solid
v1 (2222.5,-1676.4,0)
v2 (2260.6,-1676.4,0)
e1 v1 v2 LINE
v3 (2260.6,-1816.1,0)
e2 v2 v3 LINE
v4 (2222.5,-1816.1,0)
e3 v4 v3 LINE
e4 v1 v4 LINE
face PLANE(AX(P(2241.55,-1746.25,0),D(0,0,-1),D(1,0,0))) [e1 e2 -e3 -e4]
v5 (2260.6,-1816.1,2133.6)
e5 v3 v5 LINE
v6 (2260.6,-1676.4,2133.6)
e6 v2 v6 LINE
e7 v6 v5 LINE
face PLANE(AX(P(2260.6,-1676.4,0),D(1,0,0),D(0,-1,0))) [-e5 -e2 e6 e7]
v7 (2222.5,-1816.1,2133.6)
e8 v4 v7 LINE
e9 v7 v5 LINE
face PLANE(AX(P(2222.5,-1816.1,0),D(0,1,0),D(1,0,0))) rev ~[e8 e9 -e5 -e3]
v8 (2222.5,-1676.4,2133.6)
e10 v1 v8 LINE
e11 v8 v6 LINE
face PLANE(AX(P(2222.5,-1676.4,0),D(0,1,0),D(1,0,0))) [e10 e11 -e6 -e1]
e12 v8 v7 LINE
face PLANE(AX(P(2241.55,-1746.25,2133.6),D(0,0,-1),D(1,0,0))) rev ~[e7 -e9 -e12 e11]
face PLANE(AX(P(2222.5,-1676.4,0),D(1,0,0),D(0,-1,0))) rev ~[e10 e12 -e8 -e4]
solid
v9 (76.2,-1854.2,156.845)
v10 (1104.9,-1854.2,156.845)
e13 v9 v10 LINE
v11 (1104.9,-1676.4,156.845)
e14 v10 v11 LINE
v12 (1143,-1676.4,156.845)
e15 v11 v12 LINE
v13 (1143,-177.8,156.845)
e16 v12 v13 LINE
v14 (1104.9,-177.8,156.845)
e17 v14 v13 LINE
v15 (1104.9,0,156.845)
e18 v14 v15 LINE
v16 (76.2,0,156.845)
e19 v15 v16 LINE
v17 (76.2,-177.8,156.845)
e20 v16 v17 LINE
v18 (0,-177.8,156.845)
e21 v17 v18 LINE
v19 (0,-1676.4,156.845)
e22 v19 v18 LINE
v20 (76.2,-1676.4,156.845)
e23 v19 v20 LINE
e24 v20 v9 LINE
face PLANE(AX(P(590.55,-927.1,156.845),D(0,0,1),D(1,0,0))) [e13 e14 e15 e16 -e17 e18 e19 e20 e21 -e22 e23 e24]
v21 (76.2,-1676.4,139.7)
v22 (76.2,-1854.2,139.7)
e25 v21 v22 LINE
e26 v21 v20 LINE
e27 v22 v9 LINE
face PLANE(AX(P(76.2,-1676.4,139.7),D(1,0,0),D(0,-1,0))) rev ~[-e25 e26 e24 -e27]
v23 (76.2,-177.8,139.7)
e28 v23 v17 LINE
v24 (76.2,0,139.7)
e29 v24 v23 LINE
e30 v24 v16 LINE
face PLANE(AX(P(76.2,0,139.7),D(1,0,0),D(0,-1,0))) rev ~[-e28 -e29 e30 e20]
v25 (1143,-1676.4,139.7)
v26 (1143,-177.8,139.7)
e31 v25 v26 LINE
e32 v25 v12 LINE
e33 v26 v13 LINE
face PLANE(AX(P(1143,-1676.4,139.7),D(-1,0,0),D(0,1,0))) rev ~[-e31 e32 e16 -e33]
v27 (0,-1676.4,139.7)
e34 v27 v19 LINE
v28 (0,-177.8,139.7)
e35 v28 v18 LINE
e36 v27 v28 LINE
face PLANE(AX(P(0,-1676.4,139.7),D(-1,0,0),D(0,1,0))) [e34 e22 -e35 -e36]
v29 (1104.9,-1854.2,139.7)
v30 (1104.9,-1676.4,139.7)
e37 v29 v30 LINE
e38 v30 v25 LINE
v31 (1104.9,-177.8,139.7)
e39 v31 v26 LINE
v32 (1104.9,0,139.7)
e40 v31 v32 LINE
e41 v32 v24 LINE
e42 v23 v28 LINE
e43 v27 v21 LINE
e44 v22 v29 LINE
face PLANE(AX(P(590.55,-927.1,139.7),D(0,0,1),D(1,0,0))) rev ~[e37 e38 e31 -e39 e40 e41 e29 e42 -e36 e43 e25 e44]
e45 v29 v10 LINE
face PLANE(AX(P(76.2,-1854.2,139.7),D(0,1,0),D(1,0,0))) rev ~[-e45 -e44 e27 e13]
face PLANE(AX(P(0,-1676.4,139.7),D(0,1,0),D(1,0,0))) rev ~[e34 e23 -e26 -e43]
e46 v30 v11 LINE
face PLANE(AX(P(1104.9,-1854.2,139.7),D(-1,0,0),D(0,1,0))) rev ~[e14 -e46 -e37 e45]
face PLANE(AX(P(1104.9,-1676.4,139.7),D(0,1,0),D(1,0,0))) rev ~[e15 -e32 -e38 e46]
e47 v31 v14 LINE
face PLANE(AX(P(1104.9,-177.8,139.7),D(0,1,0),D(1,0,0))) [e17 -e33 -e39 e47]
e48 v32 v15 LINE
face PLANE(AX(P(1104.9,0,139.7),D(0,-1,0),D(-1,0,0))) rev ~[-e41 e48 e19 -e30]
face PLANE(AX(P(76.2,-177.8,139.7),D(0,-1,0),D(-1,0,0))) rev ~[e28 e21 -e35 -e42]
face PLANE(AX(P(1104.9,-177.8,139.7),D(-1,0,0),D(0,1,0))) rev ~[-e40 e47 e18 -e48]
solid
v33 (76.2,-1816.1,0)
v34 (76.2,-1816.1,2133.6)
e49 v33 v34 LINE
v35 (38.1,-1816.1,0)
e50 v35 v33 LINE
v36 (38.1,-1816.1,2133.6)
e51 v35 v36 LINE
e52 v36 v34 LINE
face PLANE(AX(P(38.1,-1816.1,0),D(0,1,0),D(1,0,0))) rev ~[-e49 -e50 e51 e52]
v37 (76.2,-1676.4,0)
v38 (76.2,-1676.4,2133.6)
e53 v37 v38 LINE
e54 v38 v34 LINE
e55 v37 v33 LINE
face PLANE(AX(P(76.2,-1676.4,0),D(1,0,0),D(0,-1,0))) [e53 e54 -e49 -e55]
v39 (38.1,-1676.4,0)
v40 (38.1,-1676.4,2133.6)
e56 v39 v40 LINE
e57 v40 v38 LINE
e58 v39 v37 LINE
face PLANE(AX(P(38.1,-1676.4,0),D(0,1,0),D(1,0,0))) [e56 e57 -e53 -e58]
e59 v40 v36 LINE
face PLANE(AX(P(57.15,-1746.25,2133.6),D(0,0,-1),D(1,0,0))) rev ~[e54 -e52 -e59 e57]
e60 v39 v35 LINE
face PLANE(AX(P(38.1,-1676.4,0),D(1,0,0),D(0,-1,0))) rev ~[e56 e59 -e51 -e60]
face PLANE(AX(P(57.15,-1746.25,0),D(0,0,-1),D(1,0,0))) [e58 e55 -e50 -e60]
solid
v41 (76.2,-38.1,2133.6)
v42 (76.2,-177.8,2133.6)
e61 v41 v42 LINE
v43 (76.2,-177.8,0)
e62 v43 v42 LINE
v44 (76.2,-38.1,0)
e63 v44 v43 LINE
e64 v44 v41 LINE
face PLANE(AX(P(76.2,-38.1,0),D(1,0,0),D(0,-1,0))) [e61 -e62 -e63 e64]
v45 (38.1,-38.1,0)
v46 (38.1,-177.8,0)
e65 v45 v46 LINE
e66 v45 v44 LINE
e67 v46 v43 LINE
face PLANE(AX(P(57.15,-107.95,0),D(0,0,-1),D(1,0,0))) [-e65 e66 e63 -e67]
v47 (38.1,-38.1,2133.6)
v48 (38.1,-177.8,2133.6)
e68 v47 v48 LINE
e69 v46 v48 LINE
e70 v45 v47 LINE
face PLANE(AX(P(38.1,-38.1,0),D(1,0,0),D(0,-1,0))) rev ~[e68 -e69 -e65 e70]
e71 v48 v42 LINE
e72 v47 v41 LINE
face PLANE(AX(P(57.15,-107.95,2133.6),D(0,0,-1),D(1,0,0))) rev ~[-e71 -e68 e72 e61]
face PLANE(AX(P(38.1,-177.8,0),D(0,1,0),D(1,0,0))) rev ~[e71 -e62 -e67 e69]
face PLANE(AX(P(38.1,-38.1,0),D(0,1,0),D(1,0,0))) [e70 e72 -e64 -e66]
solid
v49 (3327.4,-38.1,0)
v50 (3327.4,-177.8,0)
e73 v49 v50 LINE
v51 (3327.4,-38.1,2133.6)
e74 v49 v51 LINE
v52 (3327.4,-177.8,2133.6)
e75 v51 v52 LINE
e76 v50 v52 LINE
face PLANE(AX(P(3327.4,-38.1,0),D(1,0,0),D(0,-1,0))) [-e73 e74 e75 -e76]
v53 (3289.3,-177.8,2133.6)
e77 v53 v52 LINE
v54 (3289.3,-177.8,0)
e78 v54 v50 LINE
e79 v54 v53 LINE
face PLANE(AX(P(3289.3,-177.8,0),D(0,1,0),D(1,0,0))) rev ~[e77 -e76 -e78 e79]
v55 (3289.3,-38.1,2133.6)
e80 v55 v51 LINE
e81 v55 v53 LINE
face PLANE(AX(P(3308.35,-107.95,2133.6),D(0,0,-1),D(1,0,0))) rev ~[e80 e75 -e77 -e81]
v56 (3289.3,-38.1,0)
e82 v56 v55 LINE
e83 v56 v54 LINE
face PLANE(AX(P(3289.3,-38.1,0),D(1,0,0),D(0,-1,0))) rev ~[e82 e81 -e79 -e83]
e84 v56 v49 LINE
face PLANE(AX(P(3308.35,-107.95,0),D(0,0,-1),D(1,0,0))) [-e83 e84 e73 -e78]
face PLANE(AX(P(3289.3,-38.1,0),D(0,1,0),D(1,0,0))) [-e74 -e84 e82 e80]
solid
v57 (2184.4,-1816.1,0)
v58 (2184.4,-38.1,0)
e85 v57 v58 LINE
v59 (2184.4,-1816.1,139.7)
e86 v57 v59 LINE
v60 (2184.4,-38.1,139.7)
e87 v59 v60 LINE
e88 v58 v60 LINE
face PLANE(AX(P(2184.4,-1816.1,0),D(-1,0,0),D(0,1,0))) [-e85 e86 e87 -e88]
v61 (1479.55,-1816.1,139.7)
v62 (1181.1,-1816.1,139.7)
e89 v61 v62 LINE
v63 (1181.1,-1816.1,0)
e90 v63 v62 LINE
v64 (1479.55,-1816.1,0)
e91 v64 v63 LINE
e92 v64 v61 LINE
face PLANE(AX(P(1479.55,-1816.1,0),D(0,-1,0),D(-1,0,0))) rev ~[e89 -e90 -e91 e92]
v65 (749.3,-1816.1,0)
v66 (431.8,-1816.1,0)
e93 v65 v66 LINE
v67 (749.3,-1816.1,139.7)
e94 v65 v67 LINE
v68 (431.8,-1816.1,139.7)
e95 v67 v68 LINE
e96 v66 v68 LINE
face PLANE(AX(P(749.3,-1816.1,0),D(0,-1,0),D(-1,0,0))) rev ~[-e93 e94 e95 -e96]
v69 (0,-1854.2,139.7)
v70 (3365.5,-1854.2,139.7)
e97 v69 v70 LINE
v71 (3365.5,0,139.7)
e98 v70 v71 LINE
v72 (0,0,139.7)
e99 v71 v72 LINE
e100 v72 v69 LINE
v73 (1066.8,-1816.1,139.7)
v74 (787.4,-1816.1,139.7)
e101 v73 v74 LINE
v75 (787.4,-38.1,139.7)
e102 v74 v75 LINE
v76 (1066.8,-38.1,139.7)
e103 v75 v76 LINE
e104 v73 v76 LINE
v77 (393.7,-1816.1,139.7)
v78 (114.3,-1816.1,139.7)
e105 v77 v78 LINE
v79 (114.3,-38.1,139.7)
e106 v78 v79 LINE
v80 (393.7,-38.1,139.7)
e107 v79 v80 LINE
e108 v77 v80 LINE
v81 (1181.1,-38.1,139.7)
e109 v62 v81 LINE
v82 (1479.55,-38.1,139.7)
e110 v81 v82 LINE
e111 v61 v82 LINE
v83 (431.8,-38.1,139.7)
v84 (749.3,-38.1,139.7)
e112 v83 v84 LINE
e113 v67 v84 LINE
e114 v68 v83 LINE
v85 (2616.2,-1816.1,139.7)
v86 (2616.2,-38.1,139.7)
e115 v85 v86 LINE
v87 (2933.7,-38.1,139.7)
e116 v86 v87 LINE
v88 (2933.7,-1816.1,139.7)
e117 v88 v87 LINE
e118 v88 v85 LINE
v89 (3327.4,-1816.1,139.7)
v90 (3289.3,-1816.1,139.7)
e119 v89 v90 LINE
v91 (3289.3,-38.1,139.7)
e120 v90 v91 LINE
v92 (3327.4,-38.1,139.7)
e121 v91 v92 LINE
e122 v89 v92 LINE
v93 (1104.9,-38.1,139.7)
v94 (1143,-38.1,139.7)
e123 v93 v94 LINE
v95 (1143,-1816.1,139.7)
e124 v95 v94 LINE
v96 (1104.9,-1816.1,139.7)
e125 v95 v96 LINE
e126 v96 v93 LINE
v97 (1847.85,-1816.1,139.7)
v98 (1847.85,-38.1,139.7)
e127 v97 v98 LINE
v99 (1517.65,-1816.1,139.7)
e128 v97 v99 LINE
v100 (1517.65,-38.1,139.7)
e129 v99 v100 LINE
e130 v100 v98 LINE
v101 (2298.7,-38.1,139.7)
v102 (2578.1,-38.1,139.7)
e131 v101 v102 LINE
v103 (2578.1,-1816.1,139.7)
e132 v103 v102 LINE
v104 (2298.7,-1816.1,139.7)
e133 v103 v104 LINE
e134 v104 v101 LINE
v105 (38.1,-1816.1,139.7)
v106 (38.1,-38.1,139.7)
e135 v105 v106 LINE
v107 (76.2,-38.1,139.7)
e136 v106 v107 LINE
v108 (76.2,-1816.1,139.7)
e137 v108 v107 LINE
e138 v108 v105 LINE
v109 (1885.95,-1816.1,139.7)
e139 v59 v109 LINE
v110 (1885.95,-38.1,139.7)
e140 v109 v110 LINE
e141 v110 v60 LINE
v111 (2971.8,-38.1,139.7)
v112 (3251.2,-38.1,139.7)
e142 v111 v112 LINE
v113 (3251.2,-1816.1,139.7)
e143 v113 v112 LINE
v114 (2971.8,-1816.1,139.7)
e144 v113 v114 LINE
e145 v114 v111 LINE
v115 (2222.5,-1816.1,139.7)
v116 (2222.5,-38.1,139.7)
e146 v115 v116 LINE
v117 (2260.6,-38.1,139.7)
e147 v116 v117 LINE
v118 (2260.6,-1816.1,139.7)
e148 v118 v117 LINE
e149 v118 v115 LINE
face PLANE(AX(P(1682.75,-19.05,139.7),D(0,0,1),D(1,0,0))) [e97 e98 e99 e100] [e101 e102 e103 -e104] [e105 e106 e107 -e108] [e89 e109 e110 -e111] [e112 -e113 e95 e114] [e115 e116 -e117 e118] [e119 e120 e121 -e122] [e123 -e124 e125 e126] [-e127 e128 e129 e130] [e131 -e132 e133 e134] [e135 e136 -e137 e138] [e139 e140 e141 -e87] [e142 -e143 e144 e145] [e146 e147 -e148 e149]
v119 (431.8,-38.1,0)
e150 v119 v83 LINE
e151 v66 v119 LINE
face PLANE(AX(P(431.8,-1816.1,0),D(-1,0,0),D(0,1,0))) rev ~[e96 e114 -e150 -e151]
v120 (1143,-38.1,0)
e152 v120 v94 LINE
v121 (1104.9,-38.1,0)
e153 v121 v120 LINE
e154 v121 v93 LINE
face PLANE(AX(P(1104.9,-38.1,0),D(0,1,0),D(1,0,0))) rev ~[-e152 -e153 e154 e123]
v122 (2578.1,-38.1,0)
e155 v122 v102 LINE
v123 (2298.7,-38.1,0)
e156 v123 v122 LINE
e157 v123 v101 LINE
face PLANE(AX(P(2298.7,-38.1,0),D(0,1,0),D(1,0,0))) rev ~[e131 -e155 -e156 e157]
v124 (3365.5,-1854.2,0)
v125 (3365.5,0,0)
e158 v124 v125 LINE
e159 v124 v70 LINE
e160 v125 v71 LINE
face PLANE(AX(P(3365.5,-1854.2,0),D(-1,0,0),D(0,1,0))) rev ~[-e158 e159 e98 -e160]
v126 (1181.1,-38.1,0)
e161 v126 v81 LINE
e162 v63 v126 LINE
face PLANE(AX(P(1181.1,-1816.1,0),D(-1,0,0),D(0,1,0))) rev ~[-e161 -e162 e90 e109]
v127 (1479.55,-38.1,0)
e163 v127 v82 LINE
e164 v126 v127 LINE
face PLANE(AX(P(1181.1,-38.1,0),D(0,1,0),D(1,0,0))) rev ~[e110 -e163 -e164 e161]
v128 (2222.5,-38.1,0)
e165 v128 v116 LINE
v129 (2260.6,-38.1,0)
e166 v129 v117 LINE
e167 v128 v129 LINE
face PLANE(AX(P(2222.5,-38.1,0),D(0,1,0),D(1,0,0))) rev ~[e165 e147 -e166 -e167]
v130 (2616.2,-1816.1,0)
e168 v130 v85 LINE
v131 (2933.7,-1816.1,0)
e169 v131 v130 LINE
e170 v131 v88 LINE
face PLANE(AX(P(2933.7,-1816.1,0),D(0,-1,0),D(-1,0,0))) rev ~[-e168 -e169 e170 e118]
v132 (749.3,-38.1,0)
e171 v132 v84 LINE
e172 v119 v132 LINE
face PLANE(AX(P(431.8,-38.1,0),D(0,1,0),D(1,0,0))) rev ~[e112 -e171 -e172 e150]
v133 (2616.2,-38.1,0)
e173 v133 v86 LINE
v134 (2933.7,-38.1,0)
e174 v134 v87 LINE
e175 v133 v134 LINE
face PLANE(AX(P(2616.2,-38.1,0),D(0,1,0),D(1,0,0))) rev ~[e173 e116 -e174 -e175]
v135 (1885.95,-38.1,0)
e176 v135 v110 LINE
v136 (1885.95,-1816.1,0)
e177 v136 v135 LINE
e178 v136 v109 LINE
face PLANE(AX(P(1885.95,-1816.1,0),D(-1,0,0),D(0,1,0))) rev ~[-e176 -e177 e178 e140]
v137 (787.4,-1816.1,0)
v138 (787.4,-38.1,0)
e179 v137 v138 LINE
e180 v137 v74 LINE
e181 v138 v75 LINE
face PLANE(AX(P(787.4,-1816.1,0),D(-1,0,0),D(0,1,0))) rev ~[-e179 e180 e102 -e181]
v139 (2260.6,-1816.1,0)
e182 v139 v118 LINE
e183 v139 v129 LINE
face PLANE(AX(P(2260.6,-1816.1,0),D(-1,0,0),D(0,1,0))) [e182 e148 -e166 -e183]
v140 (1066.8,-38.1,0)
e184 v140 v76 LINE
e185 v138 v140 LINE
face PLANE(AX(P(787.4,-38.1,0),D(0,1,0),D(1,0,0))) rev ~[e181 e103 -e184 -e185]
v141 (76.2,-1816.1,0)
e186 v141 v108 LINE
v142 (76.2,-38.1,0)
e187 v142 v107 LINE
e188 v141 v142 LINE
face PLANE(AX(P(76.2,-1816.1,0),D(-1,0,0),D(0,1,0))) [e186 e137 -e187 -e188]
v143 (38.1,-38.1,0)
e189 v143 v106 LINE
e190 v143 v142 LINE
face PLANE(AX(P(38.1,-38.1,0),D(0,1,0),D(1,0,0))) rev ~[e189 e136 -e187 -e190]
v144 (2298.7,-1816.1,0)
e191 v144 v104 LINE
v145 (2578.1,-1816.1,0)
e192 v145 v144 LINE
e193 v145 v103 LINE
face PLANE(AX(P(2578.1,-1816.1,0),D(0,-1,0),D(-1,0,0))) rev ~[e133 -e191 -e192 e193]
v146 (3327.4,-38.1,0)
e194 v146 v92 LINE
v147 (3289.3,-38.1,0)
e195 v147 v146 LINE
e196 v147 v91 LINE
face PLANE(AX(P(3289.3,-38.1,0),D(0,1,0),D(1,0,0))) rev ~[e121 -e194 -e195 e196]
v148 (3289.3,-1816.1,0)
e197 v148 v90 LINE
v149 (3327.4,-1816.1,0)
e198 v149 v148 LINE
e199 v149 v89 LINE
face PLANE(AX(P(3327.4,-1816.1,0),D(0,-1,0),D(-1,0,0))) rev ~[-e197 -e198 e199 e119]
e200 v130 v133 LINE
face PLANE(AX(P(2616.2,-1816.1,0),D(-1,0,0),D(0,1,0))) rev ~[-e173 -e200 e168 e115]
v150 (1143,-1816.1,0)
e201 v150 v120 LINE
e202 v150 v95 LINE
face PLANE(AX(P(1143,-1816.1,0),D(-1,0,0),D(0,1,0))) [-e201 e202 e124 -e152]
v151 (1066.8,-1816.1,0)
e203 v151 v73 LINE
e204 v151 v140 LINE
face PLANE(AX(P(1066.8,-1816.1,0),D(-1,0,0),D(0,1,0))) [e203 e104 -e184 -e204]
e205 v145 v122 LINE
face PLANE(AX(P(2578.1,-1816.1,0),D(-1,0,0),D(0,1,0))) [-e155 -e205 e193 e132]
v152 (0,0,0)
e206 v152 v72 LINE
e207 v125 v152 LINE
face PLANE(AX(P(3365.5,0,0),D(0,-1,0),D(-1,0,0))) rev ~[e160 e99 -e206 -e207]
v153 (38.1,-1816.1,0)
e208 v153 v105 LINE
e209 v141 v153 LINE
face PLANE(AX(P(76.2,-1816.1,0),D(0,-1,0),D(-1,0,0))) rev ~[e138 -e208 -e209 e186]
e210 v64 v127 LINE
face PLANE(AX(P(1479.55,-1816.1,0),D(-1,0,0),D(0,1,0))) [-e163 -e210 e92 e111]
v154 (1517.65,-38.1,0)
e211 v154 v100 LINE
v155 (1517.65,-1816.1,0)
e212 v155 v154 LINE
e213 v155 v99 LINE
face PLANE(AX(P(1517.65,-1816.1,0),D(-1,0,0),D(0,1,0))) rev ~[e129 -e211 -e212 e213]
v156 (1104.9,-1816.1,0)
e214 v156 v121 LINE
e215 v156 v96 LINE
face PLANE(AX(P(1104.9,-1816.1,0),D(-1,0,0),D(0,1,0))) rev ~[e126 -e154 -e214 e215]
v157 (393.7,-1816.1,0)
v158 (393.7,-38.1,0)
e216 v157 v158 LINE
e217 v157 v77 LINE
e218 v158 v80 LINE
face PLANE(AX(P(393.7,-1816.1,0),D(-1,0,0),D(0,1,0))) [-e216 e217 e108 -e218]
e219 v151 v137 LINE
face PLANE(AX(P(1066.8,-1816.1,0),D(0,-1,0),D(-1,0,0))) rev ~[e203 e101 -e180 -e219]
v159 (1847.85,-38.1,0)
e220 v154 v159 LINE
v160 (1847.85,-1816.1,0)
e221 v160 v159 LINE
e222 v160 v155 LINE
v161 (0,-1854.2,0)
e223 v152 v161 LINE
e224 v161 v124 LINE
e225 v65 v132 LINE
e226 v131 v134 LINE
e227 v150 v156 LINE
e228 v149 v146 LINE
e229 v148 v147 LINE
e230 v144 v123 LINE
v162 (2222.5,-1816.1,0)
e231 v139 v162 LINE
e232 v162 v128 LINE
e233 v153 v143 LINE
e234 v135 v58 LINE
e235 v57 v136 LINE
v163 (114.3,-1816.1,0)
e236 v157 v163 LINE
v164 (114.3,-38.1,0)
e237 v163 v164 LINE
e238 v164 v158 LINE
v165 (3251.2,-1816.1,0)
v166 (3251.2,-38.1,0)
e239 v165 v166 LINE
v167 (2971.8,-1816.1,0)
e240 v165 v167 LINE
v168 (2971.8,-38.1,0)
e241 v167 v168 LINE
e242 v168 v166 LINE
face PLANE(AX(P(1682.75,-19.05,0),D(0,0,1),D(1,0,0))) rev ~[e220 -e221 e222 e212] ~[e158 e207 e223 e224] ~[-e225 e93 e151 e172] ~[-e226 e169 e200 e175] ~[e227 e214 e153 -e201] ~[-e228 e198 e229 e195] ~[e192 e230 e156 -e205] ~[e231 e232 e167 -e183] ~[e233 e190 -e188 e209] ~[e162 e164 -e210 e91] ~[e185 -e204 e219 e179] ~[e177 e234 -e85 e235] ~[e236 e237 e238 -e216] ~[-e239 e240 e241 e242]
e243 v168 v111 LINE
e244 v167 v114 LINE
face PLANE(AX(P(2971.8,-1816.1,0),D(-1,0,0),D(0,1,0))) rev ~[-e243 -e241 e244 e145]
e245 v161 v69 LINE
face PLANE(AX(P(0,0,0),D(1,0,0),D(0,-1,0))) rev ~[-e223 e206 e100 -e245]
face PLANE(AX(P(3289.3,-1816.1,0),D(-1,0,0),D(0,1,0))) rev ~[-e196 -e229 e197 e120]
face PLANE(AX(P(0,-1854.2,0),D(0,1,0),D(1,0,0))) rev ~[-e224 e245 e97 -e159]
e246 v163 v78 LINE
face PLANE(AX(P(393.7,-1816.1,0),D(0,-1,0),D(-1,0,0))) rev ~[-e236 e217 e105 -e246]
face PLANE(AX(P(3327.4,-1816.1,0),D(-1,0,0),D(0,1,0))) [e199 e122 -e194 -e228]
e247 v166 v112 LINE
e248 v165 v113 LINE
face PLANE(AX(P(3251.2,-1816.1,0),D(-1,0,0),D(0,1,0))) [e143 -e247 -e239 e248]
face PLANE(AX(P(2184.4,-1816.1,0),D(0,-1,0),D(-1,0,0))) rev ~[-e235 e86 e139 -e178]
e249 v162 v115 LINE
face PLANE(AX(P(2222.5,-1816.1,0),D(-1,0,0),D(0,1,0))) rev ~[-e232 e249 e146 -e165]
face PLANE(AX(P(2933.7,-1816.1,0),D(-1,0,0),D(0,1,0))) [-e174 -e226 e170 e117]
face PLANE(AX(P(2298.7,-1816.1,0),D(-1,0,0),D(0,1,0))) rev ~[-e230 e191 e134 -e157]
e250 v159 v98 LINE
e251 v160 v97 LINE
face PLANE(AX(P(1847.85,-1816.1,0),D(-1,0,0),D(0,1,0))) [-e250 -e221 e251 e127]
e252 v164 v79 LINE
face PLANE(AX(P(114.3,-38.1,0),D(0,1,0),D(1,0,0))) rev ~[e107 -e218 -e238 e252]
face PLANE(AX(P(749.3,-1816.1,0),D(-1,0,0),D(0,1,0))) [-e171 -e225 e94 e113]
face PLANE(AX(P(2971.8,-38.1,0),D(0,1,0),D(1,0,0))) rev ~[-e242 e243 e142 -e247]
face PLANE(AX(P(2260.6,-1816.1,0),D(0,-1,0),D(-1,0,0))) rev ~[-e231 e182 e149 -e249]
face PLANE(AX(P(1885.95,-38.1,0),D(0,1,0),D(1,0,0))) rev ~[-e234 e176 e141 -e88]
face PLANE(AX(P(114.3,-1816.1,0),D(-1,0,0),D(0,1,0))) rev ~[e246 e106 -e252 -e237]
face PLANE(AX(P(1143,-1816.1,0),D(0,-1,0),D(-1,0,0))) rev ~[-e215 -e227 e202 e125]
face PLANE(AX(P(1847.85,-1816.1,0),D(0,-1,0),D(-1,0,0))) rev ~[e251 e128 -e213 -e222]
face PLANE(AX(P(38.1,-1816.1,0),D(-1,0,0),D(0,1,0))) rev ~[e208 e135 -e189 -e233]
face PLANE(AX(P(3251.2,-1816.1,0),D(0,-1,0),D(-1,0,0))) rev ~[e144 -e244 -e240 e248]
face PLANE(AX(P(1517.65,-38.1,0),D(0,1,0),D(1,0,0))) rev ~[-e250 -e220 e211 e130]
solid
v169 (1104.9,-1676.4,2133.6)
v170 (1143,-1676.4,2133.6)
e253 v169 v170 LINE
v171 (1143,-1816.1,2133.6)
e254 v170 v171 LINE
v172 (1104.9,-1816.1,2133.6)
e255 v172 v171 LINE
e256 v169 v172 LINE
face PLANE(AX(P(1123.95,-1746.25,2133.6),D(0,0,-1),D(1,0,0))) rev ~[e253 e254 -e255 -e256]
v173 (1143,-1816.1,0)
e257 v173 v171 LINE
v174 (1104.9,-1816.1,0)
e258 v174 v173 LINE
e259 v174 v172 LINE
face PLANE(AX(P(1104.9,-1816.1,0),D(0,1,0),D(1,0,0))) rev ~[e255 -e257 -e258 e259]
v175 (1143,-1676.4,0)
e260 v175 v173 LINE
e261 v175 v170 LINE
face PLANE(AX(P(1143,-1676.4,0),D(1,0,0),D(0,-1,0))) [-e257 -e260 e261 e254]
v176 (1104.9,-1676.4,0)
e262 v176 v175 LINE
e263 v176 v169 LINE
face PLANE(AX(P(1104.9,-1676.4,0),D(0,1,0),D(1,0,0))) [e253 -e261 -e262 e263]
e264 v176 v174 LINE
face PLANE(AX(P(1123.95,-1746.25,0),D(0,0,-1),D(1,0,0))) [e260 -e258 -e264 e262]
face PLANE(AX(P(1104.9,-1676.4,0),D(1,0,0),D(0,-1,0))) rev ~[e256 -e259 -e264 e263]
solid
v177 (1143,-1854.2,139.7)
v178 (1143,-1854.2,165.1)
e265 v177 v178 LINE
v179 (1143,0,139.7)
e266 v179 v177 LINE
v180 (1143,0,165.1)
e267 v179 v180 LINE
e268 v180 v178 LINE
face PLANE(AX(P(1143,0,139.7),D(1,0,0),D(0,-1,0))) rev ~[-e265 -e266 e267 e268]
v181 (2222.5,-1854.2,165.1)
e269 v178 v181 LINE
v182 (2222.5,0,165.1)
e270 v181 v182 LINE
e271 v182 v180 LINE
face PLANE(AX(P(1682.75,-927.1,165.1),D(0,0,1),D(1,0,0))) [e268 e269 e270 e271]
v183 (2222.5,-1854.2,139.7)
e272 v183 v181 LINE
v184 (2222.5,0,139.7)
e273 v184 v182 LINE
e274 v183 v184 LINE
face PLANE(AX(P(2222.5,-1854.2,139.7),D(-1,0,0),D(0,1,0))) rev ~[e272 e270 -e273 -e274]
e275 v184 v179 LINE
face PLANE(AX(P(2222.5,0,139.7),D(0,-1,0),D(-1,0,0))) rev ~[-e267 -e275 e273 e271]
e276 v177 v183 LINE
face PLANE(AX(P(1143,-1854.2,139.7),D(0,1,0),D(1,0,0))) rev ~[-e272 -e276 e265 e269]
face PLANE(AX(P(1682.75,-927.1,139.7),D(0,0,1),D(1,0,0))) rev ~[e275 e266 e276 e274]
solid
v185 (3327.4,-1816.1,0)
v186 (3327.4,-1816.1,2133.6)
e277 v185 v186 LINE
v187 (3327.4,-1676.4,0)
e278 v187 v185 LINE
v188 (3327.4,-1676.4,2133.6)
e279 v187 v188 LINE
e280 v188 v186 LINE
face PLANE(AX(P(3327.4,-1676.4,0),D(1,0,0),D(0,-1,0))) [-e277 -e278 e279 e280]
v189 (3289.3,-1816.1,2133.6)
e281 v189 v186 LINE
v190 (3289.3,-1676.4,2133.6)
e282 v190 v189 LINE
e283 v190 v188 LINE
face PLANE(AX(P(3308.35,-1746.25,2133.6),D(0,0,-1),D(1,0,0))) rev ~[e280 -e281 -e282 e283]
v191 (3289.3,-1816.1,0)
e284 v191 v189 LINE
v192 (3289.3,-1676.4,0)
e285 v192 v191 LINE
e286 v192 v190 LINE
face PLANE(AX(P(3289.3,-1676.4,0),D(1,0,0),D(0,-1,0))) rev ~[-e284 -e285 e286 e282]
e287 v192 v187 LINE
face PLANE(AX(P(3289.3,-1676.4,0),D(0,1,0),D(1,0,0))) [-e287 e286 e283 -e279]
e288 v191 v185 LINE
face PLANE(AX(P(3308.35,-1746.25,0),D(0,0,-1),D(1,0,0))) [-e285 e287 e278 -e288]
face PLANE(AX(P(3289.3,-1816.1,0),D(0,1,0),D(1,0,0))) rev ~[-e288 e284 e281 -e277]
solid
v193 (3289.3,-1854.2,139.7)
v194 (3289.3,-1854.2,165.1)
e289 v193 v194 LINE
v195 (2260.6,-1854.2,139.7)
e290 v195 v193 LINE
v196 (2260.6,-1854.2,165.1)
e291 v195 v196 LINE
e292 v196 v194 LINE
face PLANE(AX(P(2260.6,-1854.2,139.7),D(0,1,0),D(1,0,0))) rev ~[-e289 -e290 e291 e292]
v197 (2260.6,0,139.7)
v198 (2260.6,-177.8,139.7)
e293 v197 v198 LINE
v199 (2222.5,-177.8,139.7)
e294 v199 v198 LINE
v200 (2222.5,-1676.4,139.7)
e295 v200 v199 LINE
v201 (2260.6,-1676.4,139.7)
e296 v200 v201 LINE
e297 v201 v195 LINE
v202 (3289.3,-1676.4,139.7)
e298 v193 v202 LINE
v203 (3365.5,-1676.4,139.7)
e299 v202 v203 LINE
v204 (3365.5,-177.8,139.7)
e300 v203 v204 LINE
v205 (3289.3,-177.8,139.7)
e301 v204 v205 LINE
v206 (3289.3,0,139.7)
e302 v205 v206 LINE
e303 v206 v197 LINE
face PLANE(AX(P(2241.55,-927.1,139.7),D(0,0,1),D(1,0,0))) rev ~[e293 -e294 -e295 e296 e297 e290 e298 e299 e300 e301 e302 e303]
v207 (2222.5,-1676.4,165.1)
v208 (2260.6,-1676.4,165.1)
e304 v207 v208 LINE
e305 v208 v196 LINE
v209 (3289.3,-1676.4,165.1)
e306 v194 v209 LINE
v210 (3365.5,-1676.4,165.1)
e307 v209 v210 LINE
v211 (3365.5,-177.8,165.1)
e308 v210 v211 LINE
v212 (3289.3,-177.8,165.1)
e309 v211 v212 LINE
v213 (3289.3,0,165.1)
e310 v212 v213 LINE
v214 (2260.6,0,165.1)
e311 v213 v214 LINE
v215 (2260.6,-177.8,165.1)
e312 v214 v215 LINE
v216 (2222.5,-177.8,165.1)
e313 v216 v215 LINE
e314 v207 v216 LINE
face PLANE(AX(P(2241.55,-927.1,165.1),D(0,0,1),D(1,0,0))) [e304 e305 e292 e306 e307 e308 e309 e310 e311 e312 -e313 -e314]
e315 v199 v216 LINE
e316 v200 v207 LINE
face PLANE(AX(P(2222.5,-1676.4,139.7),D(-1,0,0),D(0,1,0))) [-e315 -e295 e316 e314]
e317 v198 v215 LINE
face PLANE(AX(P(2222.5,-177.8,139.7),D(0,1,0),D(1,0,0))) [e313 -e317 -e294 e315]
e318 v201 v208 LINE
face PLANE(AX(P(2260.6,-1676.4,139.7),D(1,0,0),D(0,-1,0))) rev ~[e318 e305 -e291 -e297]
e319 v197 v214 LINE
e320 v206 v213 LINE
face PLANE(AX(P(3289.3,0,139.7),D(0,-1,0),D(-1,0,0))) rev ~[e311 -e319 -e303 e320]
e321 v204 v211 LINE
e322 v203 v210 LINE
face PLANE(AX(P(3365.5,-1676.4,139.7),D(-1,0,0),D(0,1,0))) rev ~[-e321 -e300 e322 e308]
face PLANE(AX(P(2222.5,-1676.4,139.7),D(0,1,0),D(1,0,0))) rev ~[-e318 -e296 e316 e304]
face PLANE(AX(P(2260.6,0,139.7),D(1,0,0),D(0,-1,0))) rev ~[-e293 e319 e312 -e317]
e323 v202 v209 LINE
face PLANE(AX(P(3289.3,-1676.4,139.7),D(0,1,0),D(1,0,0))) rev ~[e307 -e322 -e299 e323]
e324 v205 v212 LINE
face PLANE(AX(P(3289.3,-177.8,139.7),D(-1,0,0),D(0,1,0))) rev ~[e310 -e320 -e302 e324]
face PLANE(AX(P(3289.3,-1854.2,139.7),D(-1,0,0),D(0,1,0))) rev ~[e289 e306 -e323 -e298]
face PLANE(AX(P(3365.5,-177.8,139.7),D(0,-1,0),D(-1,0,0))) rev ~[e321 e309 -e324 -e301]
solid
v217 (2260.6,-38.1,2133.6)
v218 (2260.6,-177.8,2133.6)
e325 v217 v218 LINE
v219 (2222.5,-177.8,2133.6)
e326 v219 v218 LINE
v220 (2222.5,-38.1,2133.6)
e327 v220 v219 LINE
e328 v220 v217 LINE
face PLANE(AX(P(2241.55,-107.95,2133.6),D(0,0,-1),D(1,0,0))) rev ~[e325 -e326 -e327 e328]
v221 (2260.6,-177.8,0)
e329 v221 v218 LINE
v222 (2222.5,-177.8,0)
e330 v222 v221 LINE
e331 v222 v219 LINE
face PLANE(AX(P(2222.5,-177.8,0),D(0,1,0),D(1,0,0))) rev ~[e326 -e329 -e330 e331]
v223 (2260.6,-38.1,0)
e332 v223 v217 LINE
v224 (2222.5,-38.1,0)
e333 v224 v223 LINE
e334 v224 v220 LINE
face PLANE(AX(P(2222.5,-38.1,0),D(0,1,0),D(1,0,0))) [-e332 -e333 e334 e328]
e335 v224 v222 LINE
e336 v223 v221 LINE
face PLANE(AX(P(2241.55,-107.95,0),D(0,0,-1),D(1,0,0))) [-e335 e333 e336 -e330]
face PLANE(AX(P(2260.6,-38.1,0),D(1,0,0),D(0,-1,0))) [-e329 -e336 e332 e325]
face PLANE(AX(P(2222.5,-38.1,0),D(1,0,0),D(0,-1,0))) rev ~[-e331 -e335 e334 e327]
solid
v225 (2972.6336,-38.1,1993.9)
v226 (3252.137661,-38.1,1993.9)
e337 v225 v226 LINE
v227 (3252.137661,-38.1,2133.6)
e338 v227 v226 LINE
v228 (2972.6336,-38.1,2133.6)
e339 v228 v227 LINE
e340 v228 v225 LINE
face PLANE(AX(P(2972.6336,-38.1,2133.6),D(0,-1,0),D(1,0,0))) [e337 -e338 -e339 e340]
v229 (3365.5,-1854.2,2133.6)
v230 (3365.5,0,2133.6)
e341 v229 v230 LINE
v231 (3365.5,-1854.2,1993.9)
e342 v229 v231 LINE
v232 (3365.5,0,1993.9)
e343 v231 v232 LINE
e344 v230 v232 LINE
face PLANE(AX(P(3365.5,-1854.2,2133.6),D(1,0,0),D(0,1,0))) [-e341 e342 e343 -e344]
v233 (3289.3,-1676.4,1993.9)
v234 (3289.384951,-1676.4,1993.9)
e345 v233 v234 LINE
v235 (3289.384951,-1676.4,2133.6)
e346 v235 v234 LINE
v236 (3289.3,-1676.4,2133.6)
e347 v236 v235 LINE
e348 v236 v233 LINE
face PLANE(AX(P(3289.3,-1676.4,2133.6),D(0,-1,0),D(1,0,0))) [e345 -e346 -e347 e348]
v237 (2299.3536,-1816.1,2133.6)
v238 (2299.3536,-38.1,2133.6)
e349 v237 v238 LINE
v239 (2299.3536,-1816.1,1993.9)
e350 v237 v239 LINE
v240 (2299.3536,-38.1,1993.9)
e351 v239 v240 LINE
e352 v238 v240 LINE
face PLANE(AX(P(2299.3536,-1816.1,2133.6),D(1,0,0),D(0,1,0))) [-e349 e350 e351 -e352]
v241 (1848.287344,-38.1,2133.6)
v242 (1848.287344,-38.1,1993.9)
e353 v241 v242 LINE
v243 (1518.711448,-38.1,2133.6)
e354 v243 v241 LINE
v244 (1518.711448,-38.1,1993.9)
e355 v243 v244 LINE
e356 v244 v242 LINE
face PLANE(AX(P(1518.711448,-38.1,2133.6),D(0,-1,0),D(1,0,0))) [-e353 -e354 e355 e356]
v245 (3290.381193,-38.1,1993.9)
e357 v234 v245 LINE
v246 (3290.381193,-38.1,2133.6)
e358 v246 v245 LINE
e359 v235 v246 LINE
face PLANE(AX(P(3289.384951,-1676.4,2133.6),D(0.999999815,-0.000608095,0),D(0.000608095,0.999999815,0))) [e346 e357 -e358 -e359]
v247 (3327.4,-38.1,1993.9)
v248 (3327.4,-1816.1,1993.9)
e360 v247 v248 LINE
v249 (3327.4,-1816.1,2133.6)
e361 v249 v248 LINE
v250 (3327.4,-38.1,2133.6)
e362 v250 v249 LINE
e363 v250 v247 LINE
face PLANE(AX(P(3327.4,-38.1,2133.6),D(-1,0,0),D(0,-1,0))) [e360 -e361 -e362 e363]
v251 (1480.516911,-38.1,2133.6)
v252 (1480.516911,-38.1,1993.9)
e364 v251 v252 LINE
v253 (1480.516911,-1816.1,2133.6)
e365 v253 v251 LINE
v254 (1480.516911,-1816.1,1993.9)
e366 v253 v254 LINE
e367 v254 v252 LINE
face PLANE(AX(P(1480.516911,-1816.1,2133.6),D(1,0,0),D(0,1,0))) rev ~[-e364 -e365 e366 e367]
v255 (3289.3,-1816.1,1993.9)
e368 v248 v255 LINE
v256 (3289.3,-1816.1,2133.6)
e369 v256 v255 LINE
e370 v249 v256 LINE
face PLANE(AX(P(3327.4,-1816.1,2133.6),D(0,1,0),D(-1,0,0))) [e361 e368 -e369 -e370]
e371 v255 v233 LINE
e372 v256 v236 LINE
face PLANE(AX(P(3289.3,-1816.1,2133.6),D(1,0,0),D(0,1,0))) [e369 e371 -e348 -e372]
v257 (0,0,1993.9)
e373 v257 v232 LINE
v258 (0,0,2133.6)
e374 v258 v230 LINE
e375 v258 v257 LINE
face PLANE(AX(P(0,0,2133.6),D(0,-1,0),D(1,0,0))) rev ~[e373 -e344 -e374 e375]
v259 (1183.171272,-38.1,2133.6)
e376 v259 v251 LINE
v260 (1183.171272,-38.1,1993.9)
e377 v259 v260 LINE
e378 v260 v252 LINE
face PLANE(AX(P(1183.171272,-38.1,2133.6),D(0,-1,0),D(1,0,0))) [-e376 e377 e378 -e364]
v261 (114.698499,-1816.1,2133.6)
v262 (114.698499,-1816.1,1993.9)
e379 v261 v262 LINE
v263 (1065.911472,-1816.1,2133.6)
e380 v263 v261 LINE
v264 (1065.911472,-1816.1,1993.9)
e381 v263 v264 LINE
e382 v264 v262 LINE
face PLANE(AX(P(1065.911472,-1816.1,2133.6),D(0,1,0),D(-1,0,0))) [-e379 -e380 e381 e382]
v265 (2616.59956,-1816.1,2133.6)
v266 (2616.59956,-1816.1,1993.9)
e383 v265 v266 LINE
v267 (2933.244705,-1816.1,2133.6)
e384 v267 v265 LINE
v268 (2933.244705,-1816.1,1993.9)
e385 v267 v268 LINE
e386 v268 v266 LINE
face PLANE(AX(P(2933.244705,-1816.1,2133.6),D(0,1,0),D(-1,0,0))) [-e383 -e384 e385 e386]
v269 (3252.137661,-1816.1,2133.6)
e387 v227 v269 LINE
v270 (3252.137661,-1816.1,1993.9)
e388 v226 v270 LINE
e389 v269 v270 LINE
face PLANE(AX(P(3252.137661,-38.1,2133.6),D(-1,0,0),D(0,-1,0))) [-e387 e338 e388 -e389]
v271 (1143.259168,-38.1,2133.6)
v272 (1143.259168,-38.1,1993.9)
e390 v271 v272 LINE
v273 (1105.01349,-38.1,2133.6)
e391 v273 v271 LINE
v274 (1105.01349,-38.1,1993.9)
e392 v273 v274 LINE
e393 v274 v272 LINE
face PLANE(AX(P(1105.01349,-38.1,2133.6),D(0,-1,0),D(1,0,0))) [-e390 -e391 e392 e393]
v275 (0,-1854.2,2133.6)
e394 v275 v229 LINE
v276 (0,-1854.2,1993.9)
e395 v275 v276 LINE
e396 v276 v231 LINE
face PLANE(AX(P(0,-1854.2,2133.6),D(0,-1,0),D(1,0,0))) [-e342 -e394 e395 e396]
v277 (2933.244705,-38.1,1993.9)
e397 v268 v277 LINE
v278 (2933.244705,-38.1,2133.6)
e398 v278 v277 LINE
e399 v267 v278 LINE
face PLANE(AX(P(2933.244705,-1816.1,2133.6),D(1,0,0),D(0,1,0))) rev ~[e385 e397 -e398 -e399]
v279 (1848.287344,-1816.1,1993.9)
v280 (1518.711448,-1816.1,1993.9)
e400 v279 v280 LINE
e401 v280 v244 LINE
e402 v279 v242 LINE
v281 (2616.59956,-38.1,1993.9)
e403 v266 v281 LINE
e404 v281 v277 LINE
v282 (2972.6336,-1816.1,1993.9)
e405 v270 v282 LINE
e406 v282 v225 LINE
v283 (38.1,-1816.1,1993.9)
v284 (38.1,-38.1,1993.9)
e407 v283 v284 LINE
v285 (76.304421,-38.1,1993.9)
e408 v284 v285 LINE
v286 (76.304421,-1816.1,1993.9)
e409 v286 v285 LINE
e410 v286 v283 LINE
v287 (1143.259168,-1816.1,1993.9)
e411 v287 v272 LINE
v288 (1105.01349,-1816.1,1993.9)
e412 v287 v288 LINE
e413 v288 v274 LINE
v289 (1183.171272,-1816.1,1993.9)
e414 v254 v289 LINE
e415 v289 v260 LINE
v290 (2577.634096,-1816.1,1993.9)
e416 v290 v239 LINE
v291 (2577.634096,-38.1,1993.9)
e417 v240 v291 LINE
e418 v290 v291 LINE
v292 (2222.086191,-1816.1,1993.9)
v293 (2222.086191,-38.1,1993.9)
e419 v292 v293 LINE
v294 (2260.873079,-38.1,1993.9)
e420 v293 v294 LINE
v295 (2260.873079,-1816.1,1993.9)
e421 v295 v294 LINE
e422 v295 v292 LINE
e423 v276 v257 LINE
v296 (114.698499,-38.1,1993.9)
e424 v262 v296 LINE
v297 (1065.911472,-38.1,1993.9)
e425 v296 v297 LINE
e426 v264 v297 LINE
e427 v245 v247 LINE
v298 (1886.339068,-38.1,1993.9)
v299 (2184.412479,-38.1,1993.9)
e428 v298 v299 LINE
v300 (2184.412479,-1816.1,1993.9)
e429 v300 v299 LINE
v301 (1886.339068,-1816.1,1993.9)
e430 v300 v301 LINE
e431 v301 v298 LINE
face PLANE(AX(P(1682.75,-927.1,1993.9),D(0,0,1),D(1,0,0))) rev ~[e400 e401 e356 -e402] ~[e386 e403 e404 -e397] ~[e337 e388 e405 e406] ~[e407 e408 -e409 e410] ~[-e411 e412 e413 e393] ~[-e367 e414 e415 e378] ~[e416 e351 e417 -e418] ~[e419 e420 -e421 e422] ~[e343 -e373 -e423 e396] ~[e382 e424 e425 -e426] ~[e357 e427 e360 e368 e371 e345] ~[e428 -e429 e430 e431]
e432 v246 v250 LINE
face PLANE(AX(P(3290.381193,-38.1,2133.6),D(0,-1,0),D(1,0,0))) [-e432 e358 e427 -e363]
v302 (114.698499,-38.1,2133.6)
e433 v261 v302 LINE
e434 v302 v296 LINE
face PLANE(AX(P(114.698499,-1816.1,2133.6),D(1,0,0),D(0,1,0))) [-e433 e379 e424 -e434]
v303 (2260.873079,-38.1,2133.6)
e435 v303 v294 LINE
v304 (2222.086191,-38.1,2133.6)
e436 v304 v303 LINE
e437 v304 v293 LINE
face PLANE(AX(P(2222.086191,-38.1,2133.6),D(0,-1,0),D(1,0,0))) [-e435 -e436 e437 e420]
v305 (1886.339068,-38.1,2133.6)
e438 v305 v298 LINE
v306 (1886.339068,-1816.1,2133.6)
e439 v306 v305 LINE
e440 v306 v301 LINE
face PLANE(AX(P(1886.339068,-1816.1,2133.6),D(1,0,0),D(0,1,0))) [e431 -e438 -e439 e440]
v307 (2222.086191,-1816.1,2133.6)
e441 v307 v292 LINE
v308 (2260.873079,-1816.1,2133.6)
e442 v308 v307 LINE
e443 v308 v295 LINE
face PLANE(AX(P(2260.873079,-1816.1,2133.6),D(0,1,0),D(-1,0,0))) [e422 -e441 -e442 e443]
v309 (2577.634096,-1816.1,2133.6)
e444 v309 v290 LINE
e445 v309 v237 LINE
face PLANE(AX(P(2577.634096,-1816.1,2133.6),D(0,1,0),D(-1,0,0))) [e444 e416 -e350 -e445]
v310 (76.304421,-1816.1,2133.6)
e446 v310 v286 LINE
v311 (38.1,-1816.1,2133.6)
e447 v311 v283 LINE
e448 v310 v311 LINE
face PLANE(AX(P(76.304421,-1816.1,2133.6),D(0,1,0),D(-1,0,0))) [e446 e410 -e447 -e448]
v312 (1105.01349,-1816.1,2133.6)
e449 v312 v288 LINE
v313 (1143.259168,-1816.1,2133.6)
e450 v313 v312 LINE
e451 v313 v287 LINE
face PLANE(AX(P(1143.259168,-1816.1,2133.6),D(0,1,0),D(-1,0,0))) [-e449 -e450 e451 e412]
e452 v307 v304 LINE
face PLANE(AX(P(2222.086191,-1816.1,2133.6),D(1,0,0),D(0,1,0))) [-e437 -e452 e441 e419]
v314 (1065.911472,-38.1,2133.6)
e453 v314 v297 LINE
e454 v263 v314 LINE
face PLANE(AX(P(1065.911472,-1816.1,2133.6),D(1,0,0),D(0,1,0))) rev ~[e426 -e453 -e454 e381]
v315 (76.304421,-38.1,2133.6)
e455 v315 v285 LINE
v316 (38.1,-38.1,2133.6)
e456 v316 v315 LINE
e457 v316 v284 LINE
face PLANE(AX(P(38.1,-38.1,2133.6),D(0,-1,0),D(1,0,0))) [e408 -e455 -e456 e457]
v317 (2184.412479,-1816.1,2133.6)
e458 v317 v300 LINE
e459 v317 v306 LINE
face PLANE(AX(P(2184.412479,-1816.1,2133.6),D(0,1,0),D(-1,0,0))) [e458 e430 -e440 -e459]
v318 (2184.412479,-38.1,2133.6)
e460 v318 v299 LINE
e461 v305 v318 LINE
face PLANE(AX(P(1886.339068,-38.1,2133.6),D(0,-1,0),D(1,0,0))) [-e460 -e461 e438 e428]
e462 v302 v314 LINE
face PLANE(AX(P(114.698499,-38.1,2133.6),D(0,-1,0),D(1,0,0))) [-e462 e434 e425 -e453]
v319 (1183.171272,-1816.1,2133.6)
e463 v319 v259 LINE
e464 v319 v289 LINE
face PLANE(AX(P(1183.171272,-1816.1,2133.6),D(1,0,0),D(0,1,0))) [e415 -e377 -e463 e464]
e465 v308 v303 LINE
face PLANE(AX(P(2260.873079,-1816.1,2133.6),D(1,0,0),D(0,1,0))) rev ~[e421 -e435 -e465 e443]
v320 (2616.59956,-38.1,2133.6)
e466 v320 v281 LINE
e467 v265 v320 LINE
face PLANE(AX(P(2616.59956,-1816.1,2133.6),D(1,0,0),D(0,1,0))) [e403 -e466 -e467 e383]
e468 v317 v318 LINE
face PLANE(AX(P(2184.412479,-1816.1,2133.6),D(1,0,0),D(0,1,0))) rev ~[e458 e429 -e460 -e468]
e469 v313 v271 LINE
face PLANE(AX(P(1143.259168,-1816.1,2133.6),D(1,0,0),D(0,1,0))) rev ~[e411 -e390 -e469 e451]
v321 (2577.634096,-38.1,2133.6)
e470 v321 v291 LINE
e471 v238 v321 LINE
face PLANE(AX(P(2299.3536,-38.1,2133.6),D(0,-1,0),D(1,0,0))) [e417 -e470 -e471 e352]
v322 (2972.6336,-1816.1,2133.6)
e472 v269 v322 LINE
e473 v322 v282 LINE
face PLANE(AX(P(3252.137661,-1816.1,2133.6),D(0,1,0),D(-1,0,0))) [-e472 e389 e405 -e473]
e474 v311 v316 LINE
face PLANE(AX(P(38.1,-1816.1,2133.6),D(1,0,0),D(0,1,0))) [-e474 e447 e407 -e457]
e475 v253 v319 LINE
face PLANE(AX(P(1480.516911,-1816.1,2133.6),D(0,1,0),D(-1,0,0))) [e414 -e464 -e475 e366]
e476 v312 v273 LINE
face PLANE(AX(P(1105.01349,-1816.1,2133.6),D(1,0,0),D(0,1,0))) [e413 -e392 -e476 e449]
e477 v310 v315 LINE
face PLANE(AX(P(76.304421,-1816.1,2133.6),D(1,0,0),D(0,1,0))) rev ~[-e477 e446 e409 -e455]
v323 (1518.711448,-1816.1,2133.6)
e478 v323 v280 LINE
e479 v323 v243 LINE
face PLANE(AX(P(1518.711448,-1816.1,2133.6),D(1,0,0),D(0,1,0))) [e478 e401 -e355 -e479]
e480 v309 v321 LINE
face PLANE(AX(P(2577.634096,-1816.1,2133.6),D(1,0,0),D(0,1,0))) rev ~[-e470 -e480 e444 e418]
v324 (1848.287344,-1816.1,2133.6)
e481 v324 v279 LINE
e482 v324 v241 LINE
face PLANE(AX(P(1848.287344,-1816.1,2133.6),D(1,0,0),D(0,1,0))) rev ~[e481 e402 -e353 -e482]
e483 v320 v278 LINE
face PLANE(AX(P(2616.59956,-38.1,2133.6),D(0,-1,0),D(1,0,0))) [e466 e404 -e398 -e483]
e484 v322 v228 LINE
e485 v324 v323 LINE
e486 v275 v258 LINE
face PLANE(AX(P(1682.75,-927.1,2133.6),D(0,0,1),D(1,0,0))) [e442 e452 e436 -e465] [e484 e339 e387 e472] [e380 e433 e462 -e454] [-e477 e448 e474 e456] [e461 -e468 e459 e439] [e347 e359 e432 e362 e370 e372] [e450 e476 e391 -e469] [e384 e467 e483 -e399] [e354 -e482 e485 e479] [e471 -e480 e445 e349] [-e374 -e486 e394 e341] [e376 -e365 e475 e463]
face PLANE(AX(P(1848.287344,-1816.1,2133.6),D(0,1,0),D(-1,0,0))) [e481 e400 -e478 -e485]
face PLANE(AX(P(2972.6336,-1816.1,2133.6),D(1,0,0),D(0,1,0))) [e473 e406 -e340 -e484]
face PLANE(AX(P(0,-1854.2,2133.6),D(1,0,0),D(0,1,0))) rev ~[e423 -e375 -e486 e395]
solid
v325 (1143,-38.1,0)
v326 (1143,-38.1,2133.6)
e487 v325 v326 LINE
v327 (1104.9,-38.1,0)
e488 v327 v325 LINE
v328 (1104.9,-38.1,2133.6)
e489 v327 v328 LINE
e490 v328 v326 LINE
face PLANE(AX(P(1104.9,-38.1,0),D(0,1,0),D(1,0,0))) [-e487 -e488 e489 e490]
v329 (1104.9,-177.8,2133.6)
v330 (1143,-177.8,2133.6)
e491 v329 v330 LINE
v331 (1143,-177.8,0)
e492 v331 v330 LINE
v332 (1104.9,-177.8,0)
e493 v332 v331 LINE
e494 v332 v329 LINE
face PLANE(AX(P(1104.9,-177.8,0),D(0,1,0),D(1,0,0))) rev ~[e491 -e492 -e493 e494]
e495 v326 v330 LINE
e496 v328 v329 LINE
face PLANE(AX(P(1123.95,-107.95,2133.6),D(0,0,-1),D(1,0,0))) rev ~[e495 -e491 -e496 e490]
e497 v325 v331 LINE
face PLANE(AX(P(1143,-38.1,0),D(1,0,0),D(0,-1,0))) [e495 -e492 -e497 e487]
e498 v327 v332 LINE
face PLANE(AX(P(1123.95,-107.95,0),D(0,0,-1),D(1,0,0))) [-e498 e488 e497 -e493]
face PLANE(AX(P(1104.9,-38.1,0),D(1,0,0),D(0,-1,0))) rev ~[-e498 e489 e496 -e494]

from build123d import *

# Parameters (mm, degrees)
F0_W     = 38.1
F0_H     = 1778
F1_DEPTH = 139.7
F2_W     = 38.1
F2_H     = 139.7
F3_DEPTH = 2133.6
F4_W     = 3365.5
F4_H     = 1854.2
F4_W_2   = 39.3888950348
F4_H_2   = 1778
F4_W_3   = 38.9654636383
F4_W_4   = 38.4805202484
F4_W_5   = 37.6737117767
F4_W_6   = 38.0517244339
F4_W_7   = 38.1945371628
F4_W_8   = 39.9121046066
F4_W_9   = 39.1020178795
F4_W_10  = 38.3940786123
F5_DEPTH = 139.7
F6_W     = 279.4
F6_H     = 1778
F6_W_2   = 317.5
F6_W_3   = 38.1
F6_H_2   = 1498.6
F7_DEPTH = 17.145
F6_W_4   = 298.45
F6_W_5   = 330.2
F8_DEPTH = 25.4
F9_DEPTH = 25.4


with BuildPart() as f1:
    # F0 (on Top) → F1 (new body)
    with BuildSketch(Plane.XY):
        Polygon((3365.5, 0), (0, 0), (0, -38.1), (38.1, -38.1), (76.2, -38.1), (114.3, -38.1), (393.7, -38.1), (431.8, -38.1), (749.3, -38.1), (787.4, -38.1), (1066.8, -38.1), (1104.9, -38.1), (1143, -38.1), (1181.1, -38.1), (1479.55, -38.1), (1517.65, -38.1), (1847.85, -38.1), (1885.95, -38.1), (2184.4, -38.1), (2222.5, -38.1), (2260.6, -38.1), (2298.7, -38.1), (2578.1, -38.1), (2616.2, -38.1), (2933.7, -38.1), (2971.8, -38.1), (3251.2, -38.1), (3289.3, -38.1), (3327.4, -38.1), (3365.5, -38.1), align=None)
        with Locations((3346.45, -927.1)):
            Rectangle(F0_W, F0_H)
        with Locations((3270.25, -927.1)):
            Rectangle(F0_W, F0_H)
        Polygon((38.1, -1816.1), (0, -1816.1), (0, -1854.2), (3365.5, -1854.2), (3365.5, -1816.1), (3327.4, -1816.1), (3289.3, -1816.1), (3251.2, -1816.1), (2971.8, -1816.1), (2933.7, -1816.1), (2616.2, -1816.1), (2578.1, -1816.1), (2298.7, -1816.1), (2260.6, -1816.1), (2222.5, -1816.1), (2184.4, -1816.1), (1885.95, -1816.1), (1847.85, -1816.1), (1517.65, -1816.1), (1479.55, -1816.1), (1181.1, -1816.1), (1143, -1816.1), (1104.9, -1816.1), (1066.8, -1816.1), (787.4, -1816.1), (749.3, -1816.1), (431.8, -1816.1), (393.7, -1816.1), (114.3, -1816.1), (76.2, -1816.1), align=None)
        with Locations((19.05, -927.1)):
            Rectangle(F0_W, F0_H)
        with Locations((95.25, -927.1)):
            Rectangle(F0_W, F0_H)
        with Locations((1085.85, -927.1)):
            Rectangle(F0_W, F0_H)
        with Locations((1162.05, -927.1)):
            Rectangle(F0_W, F0_H)
        with Locations((2203.45, -927.1)):
            Rectangle(F0_W, F0_H)
        with Locations((2279.65, -927.1)):
            Rectangle(F0_W, F0_H)
        with Locations((412.75, -927.1)):
            Rectangle(F0_W, F0_H)
        with Locations((768.35, -927.1)):
            Rectangle(F0_W, F0_H)
        with Locations((1498.6, -927.1)):
            Rectangle(F0_W, F0_H)
        with Locations((1866.9, -927.1)):
            Rectangle(F0_W, F0_H)
        with Locations((2597.15, -927.1)):
            Rectangle(F0_W, F0_H)
        with Locations((2952.75, -927.1)):
            Rectangle(F0_W, F0_H)
    extrude(amount=F1_DEPTH)


with BuildPart() as f3:
    # F2 (on face) → F3 (new body)
    with BuildSketch(Plane(origin=(0, 0, 0), x_dir=(1, 0, 0), z_dir=(0, 0, -1))):
        with Locations((57.15, 107.95)):
            Rectangle(F2_W, F2_H)
    extrude(amount=-F3_DEPTH)


with BuildPart() as f3b:
    # F2 (on face) → F3, piece 2 (new body)
    with BuildSketch(Plane(origin=(0, 0, 0), x_dir=(1, 0, 0), z_dir=(0, 0, -1))):
        with Locations((1123.95, 107.95)):
            Rectangle(F2_W, F2_H)
    extrude(amount=-F3_DEPTH)


with BuildPart() as f3c:
    # F2 (on face) → F3, piece 3 (new body)
    with BuildSketch(Plane(origin=(0, 0, 0), x_dir=(1, 0, 0), z_dir=(0, 0, -1))):
        with Locations((2241.55, 107.95)):
            Rectangle(F2_W, F2_H)
    extrude(amount=-F3_DEPTH)


with BuildPart() as f3d:
    # F2 (on face) → F3, piece 4 (new body)
    with BuildSketch(Plane(origin=(0, 0, 0), x_dir=(1, 0, 0), z_dir=(0, 0, -1))):
        with Locations((3308.35, 107.95)):
            Rectangle(F2_W, F2_H)
    extrude(amount=-F3_DEPTH)


with BuildPart() as f3e:
    # F2 (on face) → F3, piece 5 (new body)
    with BuildSketch(Plane(origin=(0, 0, 0), x_dir=(1, 0, 0), z_dir=(0, 0, -1))):
        with Locations((57.15, 1746.25)):
            Rectangle(F2_W, F2_H)
    extrude(amount=-F3_DEPTH)


with BuildPart() as f3f:
    # F2 (on face) → F3, piece 6 (new body)
    with BuildSketch(Plane(origin=(0, 0, 0), x_dir=(1, 0, 0), z_dir=(0, 0, -1))):
        with Locations((1123.95, 1746.25)):
            Rectangle(F2_W, F2_H)
    extrude(amount=-F3_DEPTH)


with BuildPart() as f3g:
    # F2 (on face) → F3, piece 7 (new body)
    with BuildSketch(Plane(origin=(0, 0, 0), x_dir=(1, 0, 0), z_dir=(0, 0, -1))):
        with Locations((2241.55, 1746.25)):
            Rectangle(F2_W, F2_H)
    extrude(amount=-F3_DEPTH)


with BuildPart() as f3h:
    # F2 (on face) → F3, piece 8 (new body)
    with BuildSketch(Plane(origin=(0, 0, 0), x_dir=(1, 0, 0), z_dir=(0, 0, -1))):
        with Locations((3308.35, 1746.25)):
            Rectangle(F2_W, F2_H)
    extrude(amount=-F3_DEPTH)


with BuildPart() as f5:
    # F4 (on face) → F5 (new body)
    with BuildSketch(Plane.XY.offset(2133.6)):
        with Locations((1682.75, -927.1)):
            Rectangle(F4_W, F4_H)
        Polygon((3327.4, -38.1), (3327.4, -1816.1), (3289.3, -1816.1), (3252.1376609802, -1816.1), (2972.633600235, -1816.1), (2933.2447052002, -1816.1), (2616.5995597839, -1816.1), (2577.6340961456, -1816.1), (2299.3535995483, -1816.1), (2260.8730792999, -1816.1), (2222.0861911774, -1816.1), (2184.4124794006, -1816.1), (1886.3390684128, -1816.1), (1848.2873439789, -1816.1), (1518.7114477158, -1816.1), (1480.516910553, -1816.1), (1183.1712722778, -1816.1), (1143.2591676712, -1816.1), (1105.0134897232, -1816.1), (1065.9114718437, -1816.1), (114.6984994411, -1816.1), (76.3044208288, -1816.1), (38.1, -1816.1), (38.1, -38.1), (76.3044208288, -38.1), (114.6984994411, -38.1), (1065.9114718437, -38.1), (1105.0134897232, -38.1), (1143.2591676712, -38.1), (1183.1712722778, -38.1), (1480.516910553, -38.1), (1518.7114477158, -38.1), (1848.2873439789, -38.1), (1886.3390684128, -38.1), (2184.4124794006, -38.1), (2222.0861911774, -38.1), (2260.8730792999, -38.1), (2299.3535995483, -38.1), (2577.6340961456, -38.1), (2616.5995597839, -38.1), (2933.2447052002, -38.1), (2972.633600235, -38.1), (3252.1376609802, -38.1), (3290.381193161, -38.1), align=None, mode=Mode.SUBTRACT)
        Polygon((3252.1376609802, -1816.1), (3289.3, -1816.1), (3289.3, -1676.4), (3289.3849508912, -1676.4), (3290.381193161, -38.1), (3252.1376609802, -38.1), align=None)
        with Locations((2952.9391527176, -927.1)):
            Rectangle(F4_W_2, F4_H_2)
        with Locations((2597.1168279648, -927.1)):
            Rectangle(F4_W_3, F4_H_2)
        with Locations((2280.1133394241, -927.1)):
            Rectangle(F4_W_4, F4_H_2)
        with Locations((2203.249335289, -927.1)):
            Rectangle(F4_W_5, F4_H_2)
        with Locations((1867.3132061958, -927.1)):
            Rectangle(F4_W_6, F4_H_2)
        with Locations((1499.6141791344, -927.1)):
            Rectangle(F4_W_7, F4_H_2)
        with Locations((1163.2152199745, -927.1)):
            Rectangle(F4_W_8, F4_H_2)
        with Locations((1085.4624807835, -927.1)):
            Rectangle(F4_W_9, F4_H_2)
        with Locations((95.501460135, -927.1)):
            Rectangle(F4_W_10, F4_H_2)
    extrude(amount=-F5_DEPTH)


with BuildPart() as f7:
    # F6 (on face) → F7 (new body)
    with BuildSketch(Plane.XY.offset(139.7)):
        Polygon((76.2, -38.1), (76.2, -177.8), (76.2, -1676.4), (76.2, -1816.1), (76.2, -1854.2), (1104.9, -1854.2), (1104.9, -1816.1), (1104.9, -1676.4), (1104.9, -177.8), (1104.9, -38.1), (1104.9, 0), (76.2, 0), align=None)
        with Locations((254, -927.1)):
            Rectangle(F6_W, F6_H, mode=Mode.SUBTRACT)
        with Locations((590.55, -927.1)):
            Rectangle(F6_W_2, F6_H, mode=Mode.SUBTRACT)
        with Locations((927.1, -927.1)):
            Rectangle(F6_W, F6_H, mode=Mode.SUBTRACT)
        with Locations((19.05, -927.1)):
            Rectangle(F6_W_3, F6_H_2)
        with Locations((57.15, -927.1)):
            Rectangle(F6_W_3, F6_H_2)
        with Locations((1123.95, -927.1)):
            Rectangle(F6_W_3, F6_H_2)
        with Locations((254, -927.1)):
            Rectangle(F6_W, F6_H)
        with Locations((590.55, -927.1)):
            Rectangle(F6_W_2, F6_H)
        with Locations((927.1, -927.1)):
            Rectangle(F6_W, F6_H)
    extrude(amount=F7_DEPTH)


with BuildPart() as f8:
    # F6 (on face) → F8 (new body)
    with BuildSketch(Plane.XY.offset(139.7)):
        Polygon((2222.5, 0), (1143, 0), (1143, -38.1), (1143, -177.8), (1143, -1676.4), (1143, -1816.1), (1143, -1854.2), (2222.5, -1854.2), (2222.5, -1816.1), (2222.5, -1676.4), (2222.5, -177.8), (2222.5, -38.1), align=None)
        with Locations((1330.325, -927.1)):
            Rectangle(F6_W_4, F6_H, mode=Mode.SUBTRACT)
        with Locations((1682.75, -927.1)):
            Rectangle(F6_W_5, F6_H, mode=Mode.SUBTRACT)
        with Locations((2035.175, -927.1)):
            Rectangle(F6_W_4, F6_H, mode=Mode.SUBTRACT)
        with Locations((1330.325, -927.1)):
            Rectangle(F6_W_4, F6_H)
        with Locations((1682.75, -927.1)):
            Rectangle(F6_W_5, F6_H)
        with Locations((2035.175, -927.1)):
            Rectangle(F6_W_4, F6_H)
    extrude(amount=F8_DEPTH)


with BuildPart() as f9:
    # F6 (on face) → F9 (new body)
    with BuildSketch(Plane.XY.offset(139.7)):
        with Locations((2241.55, -927.1)):
            Rectangle(F6_W_3, F6_H_2)
        Polygon((3289.3, 0), (2260.6, 0), (2260.6, -38.1), (2260.6, -177.8), (2260.6, -1676.4), (2260.6, -1816.1), (2260.6, -1854.2), (3289.3, -1854.2), (3289.3, -1816.1), (3289.3, -1676.4), (3289.3, -177.8), (3289.3, -38.1), align=None)
        with Locations((2438.4, -927.1)):
            Rectangle(F6_W, F6_H, mode=Mode.SUBTRACT)
        with Locations((2774.95, -927.1)):
            Rectangle(F6_W_2, F6_H, mode=Mode.SUBTRACT)
        with Locations((3111.5, -927.1)):
            Rectangle(F6_W, F6_H, mode=Mode.SUBTRACT)
        with Locations((2438.4, -927.1)):
            Rectangle(F6_W, F6_H)
        with Locations((2774.95, -927.1)):
            Rectangle(F6_W_2, F6_H)
        with Locations((3111.5, -927.1)):
            Rectangle(F6_W, F6_H)
        with Locations((3346.45, -927.1)):
            Rectangle(F6_W_3, F6_H_2)
        with Locations((3308.35, -927.1)):
            Rectangle(F6_W_3, F6_H_2)
    extrude(amount=F9_DEPTH)


solid = Compound([f1.part, f3.part, f3b.part, f3c.part, f3d.part, f3e.part, f3f.part, f3g.part, f3h.part, f5.part, f7.part, f8.part, f9.part])
